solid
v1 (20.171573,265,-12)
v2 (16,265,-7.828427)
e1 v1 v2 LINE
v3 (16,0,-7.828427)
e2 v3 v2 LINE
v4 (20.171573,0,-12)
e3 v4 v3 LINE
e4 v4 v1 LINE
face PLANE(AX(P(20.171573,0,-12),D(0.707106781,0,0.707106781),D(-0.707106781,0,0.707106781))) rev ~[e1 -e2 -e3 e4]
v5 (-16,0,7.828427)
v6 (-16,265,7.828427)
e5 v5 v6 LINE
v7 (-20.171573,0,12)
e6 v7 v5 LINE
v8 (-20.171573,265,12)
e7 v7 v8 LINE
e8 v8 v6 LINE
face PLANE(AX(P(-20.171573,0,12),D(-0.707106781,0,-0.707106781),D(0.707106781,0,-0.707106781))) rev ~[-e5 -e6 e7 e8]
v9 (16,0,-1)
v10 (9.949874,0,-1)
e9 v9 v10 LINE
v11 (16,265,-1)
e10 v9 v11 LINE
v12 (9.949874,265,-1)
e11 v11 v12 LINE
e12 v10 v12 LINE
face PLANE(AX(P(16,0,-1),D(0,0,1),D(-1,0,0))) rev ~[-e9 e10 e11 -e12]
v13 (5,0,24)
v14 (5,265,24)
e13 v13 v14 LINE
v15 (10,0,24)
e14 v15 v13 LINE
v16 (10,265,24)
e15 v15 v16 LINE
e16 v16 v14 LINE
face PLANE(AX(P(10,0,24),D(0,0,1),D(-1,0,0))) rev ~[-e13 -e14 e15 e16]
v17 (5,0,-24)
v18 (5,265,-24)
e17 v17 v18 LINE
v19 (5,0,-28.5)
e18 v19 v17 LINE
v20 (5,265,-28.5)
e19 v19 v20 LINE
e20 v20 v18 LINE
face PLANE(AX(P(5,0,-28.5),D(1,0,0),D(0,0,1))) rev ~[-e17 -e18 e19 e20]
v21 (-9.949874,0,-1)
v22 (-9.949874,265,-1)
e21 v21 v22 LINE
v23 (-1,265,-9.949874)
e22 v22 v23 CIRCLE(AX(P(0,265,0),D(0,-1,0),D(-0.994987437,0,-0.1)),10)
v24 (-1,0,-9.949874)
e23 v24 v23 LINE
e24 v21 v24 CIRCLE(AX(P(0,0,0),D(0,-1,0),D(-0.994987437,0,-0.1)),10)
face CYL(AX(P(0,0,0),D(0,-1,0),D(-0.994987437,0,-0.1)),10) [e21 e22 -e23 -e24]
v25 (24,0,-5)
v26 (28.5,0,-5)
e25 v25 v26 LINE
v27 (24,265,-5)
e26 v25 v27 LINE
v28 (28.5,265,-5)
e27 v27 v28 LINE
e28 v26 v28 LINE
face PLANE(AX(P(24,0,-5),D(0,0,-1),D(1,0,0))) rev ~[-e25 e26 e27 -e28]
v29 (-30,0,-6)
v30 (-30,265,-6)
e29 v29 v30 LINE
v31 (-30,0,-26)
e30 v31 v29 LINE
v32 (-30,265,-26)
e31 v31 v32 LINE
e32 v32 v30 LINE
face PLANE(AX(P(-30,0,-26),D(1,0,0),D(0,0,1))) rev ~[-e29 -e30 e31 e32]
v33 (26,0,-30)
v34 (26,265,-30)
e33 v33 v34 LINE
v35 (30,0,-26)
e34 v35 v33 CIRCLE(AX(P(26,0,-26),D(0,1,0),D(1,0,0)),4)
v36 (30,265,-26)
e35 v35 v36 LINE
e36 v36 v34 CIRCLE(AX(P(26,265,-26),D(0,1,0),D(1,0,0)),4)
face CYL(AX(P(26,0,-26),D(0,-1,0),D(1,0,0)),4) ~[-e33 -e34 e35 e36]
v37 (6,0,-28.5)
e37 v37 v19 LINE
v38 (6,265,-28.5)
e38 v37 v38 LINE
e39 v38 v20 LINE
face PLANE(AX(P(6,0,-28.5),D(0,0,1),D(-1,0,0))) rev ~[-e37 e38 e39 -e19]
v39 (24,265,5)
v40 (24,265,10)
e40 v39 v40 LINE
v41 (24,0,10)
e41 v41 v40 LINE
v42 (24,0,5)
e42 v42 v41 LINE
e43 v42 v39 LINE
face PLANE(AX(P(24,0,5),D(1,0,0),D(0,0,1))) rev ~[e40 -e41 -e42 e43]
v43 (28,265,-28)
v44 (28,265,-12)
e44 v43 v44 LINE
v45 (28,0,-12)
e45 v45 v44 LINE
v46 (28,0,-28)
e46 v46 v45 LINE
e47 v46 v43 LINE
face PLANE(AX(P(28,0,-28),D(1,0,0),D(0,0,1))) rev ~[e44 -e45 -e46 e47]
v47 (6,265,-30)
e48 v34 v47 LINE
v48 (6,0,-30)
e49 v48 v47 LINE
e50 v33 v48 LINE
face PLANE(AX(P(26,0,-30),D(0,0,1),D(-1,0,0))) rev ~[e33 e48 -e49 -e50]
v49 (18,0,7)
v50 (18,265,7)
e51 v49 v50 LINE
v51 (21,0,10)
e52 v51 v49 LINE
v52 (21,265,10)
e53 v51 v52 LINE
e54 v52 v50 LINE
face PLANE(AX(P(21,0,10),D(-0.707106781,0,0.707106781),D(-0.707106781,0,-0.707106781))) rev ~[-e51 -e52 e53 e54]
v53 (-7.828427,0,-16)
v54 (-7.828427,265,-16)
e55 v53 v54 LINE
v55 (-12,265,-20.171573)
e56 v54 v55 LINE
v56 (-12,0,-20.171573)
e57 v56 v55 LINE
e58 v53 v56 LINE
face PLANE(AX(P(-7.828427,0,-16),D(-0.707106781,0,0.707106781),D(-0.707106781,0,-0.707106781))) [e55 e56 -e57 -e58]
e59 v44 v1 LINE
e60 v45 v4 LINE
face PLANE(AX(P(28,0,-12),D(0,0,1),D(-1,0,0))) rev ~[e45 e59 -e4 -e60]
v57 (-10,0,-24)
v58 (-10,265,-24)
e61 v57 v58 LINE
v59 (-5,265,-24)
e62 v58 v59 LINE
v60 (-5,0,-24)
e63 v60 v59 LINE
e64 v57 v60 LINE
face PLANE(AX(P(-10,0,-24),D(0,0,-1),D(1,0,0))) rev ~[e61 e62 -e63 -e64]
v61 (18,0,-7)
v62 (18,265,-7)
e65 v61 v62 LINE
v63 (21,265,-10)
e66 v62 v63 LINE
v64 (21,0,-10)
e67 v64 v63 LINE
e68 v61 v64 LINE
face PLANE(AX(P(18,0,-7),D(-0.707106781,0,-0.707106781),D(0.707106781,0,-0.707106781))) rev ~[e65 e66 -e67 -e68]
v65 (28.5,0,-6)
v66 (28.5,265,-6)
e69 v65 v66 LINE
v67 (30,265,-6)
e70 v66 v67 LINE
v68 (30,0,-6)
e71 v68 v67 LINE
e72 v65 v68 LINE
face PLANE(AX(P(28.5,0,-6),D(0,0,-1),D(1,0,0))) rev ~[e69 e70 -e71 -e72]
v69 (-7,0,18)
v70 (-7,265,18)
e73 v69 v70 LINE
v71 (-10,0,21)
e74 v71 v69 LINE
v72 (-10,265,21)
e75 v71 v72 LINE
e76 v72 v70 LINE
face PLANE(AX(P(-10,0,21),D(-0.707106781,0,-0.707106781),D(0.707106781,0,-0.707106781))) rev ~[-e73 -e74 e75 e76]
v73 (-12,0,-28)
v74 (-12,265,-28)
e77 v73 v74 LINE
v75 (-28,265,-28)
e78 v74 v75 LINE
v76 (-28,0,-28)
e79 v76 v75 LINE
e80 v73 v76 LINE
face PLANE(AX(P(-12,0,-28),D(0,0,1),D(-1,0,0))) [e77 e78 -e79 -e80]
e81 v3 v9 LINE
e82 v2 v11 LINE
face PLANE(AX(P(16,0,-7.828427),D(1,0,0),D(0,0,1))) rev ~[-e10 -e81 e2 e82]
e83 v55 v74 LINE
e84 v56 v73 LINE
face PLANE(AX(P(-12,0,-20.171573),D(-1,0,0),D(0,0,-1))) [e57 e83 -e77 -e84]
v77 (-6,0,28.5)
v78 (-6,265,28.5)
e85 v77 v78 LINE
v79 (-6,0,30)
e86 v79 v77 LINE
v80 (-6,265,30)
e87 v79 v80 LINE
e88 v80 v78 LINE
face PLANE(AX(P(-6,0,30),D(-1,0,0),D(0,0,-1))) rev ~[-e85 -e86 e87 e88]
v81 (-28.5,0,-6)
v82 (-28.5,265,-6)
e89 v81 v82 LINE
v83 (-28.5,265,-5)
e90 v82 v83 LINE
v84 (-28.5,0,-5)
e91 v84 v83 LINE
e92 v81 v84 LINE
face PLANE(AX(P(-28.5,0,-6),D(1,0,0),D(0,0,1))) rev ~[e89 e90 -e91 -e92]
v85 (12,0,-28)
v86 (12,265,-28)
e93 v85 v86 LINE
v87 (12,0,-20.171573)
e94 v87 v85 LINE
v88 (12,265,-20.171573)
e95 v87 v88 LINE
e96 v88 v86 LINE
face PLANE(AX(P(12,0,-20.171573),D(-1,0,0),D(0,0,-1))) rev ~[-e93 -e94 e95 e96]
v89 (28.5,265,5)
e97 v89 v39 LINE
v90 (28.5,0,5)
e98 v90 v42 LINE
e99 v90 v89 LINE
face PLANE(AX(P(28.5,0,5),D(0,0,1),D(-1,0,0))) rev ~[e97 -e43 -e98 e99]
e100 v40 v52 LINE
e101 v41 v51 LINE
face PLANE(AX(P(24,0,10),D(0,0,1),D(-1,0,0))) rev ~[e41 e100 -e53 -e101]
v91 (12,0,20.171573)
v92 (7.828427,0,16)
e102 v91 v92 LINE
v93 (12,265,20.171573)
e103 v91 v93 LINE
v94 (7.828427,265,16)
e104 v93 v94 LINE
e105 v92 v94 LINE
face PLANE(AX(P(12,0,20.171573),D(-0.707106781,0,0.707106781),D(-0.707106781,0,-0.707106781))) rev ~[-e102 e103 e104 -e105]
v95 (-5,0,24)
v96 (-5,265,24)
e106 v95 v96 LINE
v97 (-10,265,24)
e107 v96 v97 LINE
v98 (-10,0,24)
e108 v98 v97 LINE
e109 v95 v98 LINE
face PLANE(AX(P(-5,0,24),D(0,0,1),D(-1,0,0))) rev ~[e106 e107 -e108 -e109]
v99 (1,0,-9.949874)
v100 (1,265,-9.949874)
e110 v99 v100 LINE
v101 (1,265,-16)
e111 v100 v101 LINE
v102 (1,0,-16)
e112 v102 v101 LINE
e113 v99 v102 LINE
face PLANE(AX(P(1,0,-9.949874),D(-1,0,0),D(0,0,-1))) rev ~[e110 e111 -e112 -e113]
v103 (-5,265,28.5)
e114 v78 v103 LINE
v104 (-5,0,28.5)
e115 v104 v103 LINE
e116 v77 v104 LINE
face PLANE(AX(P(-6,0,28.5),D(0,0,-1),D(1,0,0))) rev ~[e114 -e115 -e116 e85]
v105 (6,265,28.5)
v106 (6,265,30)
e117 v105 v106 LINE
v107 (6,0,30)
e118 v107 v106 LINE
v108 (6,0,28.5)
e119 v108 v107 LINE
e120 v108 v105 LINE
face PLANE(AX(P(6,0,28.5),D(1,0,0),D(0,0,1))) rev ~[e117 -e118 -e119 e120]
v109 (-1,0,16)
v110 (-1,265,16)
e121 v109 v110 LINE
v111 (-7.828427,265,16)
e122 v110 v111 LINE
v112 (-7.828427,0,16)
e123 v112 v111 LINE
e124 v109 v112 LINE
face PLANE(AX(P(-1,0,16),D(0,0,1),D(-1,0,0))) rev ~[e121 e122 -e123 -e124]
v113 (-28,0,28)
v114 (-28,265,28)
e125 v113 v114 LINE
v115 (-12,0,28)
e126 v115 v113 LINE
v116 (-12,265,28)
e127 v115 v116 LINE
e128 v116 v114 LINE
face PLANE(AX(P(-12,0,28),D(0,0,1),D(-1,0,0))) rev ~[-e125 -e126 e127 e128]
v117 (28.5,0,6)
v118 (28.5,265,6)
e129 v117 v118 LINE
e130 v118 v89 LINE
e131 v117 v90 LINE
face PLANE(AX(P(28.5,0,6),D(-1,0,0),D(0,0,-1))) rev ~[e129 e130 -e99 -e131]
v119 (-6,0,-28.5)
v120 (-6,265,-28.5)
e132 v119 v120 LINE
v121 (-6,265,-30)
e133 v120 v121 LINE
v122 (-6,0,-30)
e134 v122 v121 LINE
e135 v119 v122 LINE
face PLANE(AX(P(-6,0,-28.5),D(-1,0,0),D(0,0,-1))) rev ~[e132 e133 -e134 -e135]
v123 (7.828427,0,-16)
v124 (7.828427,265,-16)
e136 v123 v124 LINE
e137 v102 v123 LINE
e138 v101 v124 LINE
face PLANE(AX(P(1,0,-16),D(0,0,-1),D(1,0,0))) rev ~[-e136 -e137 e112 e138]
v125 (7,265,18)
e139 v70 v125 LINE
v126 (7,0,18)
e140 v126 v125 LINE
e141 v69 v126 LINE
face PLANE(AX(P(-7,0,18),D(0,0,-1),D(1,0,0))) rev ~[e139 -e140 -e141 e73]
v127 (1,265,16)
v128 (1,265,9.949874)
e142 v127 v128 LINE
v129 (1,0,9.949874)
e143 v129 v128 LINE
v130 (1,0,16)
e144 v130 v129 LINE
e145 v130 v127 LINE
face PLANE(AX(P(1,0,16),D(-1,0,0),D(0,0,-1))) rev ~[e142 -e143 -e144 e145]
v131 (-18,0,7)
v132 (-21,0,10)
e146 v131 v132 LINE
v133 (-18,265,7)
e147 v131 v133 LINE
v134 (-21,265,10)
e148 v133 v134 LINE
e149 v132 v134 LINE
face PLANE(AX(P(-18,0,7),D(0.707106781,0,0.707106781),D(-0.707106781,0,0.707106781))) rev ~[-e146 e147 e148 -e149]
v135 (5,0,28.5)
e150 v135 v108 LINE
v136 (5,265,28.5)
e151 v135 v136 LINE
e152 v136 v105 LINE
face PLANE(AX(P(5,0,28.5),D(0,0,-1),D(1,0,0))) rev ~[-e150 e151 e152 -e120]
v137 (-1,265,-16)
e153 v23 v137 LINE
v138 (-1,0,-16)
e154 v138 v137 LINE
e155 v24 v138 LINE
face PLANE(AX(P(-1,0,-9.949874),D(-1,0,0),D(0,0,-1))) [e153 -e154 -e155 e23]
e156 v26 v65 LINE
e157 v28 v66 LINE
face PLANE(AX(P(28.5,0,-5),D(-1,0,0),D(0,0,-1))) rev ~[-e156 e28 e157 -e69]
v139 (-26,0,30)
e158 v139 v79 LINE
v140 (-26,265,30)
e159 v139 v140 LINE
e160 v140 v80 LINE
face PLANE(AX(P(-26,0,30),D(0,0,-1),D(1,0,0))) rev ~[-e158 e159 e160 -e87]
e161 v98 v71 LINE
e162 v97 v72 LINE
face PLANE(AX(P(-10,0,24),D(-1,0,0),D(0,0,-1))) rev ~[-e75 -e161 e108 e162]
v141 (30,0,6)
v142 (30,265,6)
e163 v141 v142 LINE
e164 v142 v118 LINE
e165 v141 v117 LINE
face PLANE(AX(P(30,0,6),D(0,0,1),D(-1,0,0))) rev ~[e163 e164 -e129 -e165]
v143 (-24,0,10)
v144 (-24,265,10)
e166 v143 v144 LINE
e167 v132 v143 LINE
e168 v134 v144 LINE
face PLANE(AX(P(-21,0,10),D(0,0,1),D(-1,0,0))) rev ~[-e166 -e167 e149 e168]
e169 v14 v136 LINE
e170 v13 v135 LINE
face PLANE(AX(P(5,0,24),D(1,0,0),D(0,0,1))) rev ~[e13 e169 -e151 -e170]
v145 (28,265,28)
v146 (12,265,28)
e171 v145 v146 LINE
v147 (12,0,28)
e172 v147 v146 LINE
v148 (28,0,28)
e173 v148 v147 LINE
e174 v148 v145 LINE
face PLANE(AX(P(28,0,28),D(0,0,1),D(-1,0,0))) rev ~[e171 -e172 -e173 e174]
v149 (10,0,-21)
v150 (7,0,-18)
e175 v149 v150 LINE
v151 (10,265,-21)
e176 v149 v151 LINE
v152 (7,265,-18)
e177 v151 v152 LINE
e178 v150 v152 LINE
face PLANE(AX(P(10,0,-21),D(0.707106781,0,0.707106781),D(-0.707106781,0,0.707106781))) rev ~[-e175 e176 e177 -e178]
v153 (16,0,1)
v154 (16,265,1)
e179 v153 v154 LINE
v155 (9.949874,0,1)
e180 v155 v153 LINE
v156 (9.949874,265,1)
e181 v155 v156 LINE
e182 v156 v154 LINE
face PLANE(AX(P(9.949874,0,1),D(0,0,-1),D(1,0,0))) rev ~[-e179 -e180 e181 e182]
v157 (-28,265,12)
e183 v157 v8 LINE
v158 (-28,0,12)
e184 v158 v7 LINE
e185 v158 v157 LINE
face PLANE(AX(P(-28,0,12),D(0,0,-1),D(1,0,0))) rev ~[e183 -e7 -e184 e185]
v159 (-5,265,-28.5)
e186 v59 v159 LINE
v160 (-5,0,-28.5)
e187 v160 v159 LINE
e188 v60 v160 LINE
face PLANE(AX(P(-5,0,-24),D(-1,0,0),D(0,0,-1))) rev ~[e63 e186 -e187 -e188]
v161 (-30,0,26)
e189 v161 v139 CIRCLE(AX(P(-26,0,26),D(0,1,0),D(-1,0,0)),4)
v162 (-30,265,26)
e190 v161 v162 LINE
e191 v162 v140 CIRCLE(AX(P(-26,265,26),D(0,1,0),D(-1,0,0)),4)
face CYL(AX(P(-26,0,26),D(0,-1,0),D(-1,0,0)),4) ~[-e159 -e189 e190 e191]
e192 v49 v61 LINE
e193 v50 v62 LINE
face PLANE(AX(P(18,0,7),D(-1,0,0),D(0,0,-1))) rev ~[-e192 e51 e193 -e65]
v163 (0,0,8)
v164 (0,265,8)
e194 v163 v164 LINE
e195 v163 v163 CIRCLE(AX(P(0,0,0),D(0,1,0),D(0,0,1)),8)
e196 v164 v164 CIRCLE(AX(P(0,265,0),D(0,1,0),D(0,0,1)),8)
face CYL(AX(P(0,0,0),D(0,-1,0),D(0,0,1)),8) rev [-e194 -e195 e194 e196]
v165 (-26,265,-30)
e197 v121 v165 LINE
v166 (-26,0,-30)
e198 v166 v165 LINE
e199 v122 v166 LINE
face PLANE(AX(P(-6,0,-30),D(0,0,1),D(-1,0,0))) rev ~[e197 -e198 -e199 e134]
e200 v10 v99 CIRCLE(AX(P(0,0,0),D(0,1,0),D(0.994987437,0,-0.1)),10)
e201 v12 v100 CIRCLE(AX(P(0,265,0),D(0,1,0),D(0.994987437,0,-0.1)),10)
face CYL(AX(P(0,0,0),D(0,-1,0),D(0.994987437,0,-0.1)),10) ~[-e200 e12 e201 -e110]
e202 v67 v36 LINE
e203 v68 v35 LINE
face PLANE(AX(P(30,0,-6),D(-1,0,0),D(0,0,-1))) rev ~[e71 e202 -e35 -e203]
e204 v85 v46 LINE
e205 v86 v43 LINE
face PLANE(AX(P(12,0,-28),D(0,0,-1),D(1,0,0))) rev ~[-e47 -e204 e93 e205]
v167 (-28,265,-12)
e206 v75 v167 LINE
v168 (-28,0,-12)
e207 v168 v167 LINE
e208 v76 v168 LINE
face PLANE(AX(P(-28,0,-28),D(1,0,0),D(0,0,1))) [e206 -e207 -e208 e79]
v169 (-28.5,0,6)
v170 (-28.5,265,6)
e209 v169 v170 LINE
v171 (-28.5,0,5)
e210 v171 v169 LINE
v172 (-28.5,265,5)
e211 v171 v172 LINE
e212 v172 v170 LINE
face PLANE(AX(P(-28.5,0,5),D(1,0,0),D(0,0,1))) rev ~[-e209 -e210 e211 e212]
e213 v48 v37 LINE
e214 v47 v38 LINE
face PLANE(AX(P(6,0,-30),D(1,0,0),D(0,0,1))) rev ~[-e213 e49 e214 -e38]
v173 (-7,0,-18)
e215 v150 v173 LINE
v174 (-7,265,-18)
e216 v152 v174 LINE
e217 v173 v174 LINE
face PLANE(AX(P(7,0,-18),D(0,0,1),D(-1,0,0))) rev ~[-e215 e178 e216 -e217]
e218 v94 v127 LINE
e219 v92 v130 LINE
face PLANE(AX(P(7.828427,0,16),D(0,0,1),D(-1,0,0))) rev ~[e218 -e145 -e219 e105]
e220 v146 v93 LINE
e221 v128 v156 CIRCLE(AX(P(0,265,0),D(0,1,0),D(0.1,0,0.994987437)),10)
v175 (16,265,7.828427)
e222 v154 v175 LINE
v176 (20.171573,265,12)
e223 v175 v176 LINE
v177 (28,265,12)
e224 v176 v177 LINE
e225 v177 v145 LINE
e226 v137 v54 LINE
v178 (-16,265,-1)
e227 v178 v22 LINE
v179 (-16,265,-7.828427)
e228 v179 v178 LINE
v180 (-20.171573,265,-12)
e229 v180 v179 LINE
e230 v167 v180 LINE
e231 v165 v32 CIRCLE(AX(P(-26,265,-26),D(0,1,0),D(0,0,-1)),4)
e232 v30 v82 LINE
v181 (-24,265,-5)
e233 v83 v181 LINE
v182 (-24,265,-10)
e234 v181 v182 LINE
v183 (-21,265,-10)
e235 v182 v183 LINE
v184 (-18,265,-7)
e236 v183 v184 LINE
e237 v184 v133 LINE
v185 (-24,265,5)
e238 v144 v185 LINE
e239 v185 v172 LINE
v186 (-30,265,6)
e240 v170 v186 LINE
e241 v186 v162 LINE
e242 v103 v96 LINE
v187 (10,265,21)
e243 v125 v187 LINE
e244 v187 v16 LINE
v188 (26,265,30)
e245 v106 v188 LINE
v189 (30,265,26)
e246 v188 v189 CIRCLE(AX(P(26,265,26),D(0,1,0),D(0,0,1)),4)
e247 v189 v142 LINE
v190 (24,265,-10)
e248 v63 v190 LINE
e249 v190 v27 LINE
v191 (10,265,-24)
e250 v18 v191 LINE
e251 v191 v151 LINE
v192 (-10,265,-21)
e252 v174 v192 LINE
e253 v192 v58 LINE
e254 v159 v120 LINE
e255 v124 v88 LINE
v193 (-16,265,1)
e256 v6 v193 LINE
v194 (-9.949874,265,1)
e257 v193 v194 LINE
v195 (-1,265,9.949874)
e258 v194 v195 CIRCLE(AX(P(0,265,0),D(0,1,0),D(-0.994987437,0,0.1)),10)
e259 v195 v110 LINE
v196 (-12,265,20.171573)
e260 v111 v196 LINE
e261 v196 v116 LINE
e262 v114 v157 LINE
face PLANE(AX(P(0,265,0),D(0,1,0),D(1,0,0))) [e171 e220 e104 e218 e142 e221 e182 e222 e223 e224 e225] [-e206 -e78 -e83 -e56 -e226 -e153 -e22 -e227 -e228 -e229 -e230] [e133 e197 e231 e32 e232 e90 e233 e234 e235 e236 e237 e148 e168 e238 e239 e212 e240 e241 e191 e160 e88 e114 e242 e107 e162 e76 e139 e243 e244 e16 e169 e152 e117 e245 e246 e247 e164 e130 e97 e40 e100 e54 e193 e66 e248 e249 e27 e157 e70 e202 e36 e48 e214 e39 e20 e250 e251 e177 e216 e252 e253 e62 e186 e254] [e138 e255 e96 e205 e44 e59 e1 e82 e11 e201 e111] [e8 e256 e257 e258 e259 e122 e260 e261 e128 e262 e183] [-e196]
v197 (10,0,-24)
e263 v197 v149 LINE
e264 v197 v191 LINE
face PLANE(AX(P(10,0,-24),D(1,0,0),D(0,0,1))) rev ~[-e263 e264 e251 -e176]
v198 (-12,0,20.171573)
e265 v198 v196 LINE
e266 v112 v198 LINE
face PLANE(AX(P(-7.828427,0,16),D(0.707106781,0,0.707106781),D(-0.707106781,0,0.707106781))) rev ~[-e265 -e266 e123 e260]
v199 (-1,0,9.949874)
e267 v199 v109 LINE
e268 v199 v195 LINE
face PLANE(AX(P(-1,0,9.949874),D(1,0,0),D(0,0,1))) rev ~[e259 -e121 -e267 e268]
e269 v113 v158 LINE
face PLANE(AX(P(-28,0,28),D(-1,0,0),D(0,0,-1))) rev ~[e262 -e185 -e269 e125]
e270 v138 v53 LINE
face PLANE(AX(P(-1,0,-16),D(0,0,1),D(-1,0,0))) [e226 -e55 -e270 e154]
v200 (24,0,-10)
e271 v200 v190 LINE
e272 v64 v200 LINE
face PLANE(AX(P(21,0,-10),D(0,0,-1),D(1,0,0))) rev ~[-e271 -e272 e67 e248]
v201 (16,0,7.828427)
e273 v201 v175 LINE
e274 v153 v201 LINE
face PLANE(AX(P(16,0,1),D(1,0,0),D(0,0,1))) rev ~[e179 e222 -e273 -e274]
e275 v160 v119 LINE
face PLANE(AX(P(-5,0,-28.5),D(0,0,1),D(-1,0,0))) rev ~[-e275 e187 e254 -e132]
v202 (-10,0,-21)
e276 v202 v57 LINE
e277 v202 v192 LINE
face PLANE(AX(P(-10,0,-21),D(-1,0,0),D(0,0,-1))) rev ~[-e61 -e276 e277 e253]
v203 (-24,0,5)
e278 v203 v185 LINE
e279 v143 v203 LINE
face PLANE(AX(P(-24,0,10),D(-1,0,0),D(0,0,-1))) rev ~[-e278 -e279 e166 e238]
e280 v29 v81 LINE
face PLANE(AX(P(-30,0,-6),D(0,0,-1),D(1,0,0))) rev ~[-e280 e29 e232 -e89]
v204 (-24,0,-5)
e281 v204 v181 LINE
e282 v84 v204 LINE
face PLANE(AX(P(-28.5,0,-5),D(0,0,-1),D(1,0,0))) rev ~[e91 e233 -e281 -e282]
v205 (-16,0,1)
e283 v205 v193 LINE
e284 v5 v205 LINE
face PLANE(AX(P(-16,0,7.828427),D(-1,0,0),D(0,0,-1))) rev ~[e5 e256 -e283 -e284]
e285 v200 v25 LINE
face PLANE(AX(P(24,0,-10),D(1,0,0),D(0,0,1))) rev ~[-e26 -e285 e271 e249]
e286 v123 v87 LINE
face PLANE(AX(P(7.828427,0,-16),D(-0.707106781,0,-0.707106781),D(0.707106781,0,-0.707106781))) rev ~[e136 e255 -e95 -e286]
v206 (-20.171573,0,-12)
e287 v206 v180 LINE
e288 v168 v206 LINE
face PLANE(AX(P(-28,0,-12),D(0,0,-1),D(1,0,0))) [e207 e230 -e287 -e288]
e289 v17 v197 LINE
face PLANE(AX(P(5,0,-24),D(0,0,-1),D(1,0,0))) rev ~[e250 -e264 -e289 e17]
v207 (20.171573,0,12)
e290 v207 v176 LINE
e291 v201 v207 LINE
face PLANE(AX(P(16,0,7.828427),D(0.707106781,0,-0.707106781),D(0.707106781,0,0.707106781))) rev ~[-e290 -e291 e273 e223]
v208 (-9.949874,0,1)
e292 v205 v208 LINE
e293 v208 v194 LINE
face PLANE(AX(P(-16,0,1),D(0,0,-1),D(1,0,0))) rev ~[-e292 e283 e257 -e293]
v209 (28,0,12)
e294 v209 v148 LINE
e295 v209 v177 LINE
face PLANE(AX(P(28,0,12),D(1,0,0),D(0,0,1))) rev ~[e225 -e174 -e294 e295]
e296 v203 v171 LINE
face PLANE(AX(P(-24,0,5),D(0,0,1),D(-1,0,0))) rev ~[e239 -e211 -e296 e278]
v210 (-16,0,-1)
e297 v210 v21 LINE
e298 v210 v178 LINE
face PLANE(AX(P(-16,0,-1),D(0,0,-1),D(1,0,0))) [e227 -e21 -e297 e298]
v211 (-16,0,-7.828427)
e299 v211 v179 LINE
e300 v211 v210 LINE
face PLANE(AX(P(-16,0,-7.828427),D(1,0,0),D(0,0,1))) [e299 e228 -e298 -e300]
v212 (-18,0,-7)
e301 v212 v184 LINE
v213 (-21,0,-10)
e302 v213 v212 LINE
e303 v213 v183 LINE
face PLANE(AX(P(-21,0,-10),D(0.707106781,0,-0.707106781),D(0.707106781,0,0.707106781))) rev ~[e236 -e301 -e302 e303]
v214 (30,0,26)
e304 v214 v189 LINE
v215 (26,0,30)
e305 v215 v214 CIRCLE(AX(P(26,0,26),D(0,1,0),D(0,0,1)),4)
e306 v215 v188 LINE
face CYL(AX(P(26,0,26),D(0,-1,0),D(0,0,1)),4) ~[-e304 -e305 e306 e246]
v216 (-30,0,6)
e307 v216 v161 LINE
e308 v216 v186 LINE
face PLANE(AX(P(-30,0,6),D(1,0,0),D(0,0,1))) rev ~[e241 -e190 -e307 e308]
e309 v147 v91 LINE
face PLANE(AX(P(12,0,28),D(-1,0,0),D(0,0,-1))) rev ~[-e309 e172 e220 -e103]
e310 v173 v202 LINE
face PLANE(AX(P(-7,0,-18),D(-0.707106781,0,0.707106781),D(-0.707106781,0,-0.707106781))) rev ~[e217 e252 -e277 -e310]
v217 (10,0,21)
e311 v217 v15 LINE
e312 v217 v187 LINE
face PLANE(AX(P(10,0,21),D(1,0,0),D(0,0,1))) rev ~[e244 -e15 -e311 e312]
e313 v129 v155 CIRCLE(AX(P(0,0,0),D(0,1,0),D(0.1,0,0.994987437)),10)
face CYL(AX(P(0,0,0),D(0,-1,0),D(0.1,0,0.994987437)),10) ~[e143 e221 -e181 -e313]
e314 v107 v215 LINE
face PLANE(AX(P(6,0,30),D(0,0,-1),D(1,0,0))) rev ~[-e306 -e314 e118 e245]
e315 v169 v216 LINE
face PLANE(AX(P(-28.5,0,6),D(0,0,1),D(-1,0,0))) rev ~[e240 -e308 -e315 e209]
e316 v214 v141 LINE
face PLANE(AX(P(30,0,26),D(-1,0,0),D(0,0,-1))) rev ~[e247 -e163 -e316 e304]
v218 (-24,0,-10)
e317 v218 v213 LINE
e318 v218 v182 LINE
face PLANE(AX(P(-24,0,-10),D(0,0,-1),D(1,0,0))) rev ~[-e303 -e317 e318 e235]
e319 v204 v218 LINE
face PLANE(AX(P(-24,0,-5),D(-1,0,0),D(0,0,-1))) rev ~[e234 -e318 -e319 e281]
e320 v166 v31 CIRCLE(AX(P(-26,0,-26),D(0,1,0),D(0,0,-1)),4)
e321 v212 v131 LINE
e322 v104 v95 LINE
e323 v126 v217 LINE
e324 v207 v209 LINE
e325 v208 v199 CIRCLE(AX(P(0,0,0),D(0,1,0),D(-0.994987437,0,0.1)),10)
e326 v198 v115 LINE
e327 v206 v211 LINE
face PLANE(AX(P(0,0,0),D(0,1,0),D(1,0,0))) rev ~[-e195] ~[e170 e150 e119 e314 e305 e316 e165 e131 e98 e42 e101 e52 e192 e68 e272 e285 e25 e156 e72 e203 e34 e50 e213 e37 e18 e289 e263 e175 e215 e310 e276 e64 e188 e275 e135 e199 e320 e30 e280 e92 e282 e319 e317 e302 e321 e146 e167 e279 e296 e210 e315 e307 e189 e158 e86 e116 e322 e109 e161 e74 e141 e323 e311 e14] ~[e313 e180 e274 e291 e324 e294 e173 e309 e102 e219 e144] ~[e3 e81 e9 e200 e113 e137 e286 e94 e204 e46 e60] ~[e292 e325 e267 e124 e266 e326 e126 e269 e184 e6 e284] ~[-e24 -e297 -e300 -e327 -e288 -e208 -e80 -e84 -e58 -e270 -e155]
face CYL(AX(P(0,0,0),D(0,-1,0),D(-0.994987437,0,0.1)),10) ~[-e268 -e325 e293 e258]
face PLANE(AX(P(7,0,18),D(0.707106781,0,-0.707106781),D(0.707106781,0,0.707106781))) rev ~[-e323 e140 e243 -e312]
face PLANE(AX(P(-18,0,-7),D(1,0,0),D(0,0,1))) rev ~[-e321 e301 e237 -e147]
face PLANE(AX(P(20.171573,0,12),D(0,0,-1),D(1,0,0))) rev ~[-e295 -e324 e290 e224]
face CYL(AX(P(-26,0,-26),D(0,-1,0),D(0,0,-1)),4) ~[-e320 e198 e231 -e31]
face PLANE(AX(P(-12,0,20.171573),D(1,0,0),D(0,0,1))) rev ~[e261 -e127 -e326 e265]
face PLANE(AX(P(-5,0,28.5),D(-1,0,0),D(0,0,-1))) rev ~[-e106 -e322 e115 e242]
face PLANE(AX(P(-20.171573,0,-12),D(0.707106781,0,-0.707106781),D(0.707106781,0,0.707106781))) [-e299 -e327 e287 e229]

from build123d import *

# Parameters (mm, degrees)
SKETCH_1_R      = 8
EXTRUDE_1_DEPTH = 265


with BuildPart() as part:
    # 草图1 → 凸台-拉伸1 (new body)
    with BuildSketch(Plane(origin=(0, 0, 0), x_dir=(1, 0, 0), z_dir=(0, 1, 0))):
        with BuildLine():
            Line((-30, 5.999999999), (-28.5, 5.999999999))
            Line((-28.5, 5.999999999), (-28.5, 4.999999999))
            Line((-28.5, 4.999999999), (-24, 4.999999999))
            Line((-24, 4.999999999), (-24, 9.999999999))
            Line((-24, 9.999999999), (-21, 9.999999999))
            Line((-21, 9.999999999), (-18, 6.999999999))
            Line((-18, 6.999999999), (-18, -7.000000001))
            Line((-18, -7.000000001), (-21, -10.000000001))
            Line((-21, -10.000000001), (-24, -10.000000001))
            Line((-24, -10.000000001), (-24, -5.000000001))
            Line((-24, -5.000000001), (-28.5, -5.000000001))
            Line((-28.5, -5.000000001), (-28.5, -6.000000001))
            Line((-28.5, -6.000000001), (-30, -6.000000001))
            Line((-30, -6.000000001), (-30, -26.000000001))
            ThreePointArc((-30, -26.000000001), (-28.828427125, -28.828427126), (-26, -30.000000001))
            Line((-26, -30.000000001), (-6, -30.000000001))
            Line((-6, -30.000000001), (-6, -28.500000001))
            Line((-6, -28.500000001), (-5, -28.500000001))
            Line((-5, -28.500000001), (-5, -24.000000001))
            Line((-5, -24.000000001), (-10, -24.000000001))
            Line((-10, -24.000000001), (-10, -21.000000001))
            Line((-10, -21.000000001), (-7, -18.000000001))
            Line((-7, -18.000000001), (7, -18.000000001))
            Line((7, -18.000000001), (10, -21.000000001))
            Line((10, -21.000000001), (10, -24.000000001))
            Line((10, -24.000000001), (5, -24.000000001))
            Line((5, -24.000000001), (5, -28.500000001))
            Line((5, -28.500000001), (6, -28.500000001))
            Line((6, -28.500000001), (6, -30.000000001))
            Line((6, -30.000000001), (26, -30.000000001))
            ThreePointArc((26, -30.000000001), (28.828427125, -28.828427126), (30, -26.000000001))
            Line((30, -26.000000001), (30, -6.000000001))
            Line((30, -6.000000001), (28.5, -6.000000001))
            Line((28.5, -6.000000001), (28.5, -5.000000001))
            Line((28.5, -5.000000001), (24, -5.000000001))
            Line((24, -5.000000001), (24, -10.000000001))
            Line((24, -10.000000001), (21, -10.000000001))
            Line((21, -10.000000001), (18, -7.000000001))
            Line((18, -7.000000001), (18, 6.999999999))
            Line((18, 6.999999999), (21, 9.999999999))
            Line((21, 9.999999999), (24, 9.999999999))
            Line((24, 9.999999999), (24, 4.999999999))
            Line((24, 4.999999999), (28.5, 4.999999999))
            Line((28.5, 4.999999999), (28.5, 5.999999999))
            Line((28.5, 5.999999999), (30, 5.999999999))
            Line((30, 5.999999999), (30, 25.999999999))
            ThreePointArc((30, 25.999999999), (28.828427125, 28.828427124), (26, 29.999999999))
            Line((26, 29.999999999), (6, 29.999999999))
            Line((6, 29.999999999), (6, 28.499999999))
            Line((6, 28.499999999), (5, 28.499999999))
            Line((5, 28.499999999), (5, 23.999999999))
            Line((5, 23.999999999), (10, 23.999999999))
            Line((10, 23.999999999), (10, 20.999999999))
            Line((10, 20.999999999), (7, 17.999999999))
            Line((7, 17.999999999), (-7, 17.999999999))
            Line((-7, 17.999999999), (-10, 20.999999999))
            Line((-10, 20.999999999), (-10, 23.999999999))
            Line((-10, 23.999999999), (-5, 23.999999999))
            Line((-5, 23.999999999), (-5, 28.499999999))
            Line((-5, 28.499999999), (-6, 28.499999999))
            Line((-6, 28.499999999), (-6, 29.999999999))
            Line((-6, 29.999999999), (-26.000000001, 29.999999999))
            ThreePointArc((-26.000000001, 29.999999999), (-28.828427125, 28.828427123), (-30, 25.999999999))
            Line((-30, 25.999999999), (-30, 5.999999999))
        make_face()
        with Locations(Location((0, 0, 0), (0, 0, 270))):
            Circle(SKETCH_1_R, mode=Mode.SUBTRACT)
        with BuildLine():
            Line((-16, 1), (-9.949874371, 1))
            ThreePointArc((-9.949874371, 1), (-7.071067812, 7.071067811), (-1.000000001, 9.949874371))
            Line((-1.000000001, 9.949874371), (-1.000000001, 16))
            Line((-1.000000001, 16), (-7.828427125, 16))
            Line((-7.828427125, 16), (-12, 20.171572875))
            Line((-12, 20.171572875), (-12, 28))
            Line((-12, 28), (-28, 28))
            Line((-28, 28), (-28, 12))
            Line((-28, 12), (-20.171572875, 12))
            Line((-20.171572875, 12), (-16, 7.828427125))
            Line((-16, 7.828427125), (-16, 1))
        make_face(mode=Mode.SUBTRACT)
        with BuildLine():
            Line((1, 9.949874371), (1, 16))
            Line((1, 16), (7.828427125, 16))
            Line((7.828427125, 16), (12, 20.171572875))
            Line((12, 20.171572875), (12, 28))
            Line((12, 28), (28, 28))
            Line((28, 28), (28, 12.000000001))
            Line((28, 12.000000001), (20.171572875, 12.000000001))
            Line((20.171572875, 12.000000001), (16, 7.828427126))
            Line((16, 7.828427126), (16, 1.000000001))
            Line((16, 1.000000001), (9.949874371, 1.000000001))
            ThreePointArc((9.949874371, 1.000000001), (7.071067811, 7.071067812), (1, 9.949874371))
        make_face(mode=Mode.SUBTRACT)
        with BuildLine():
            Line((9.949874371, -1), (16, -1))
            Line((16, -1), (16, -7.828427125))
            Line((16, -7.828427125), (20.171572875, -12))
            Line((20.171572875, -12), (28.000000001, -12))
            Line((28.000000001, -12), (28.000000001, -28))
            Line((28.000000001, -28), (12.000000001, -28))
            Line((12.000000001, -28), (12.000000001, -20.171572875))
            Line((12.000000001, -20.171572875), (7.828427126, -16))
            Line((7.828427126, -16), (1.000000001, -16))
            Line((1.000000001, -16), (1.000000001, -9.949874371))
            ThreePointArc((1.000000001, -9.949874371), (7.071067812, -7.071067811), (9.949874371, -1))
        make_face(mode=Mode.SUBTRACT)
        with BuildLine():
            Line((-1, -9.949874371), (-1, -16.000000001))
            Line((-1, -16.000000001), (-7.828427125, -16.000000001))
            Line((-7.828427125, -16.000000001), (-12, -20.171572876))
            Line((-12, -20.171572876), (-12, -28.000000001))
            Line((-12, -28.000000001), (-28, -28.000000001))
            Line((-28, -28.000000001), (-28, -12.000000001))
            Line((-28, -12.000000001), (-20.171572875, -12.000000001))
            Line((-20.171572875, -12.000000001), (-16, -7.828427126))
            Line((-16, -7.828427126), (-16, -1.000000001))
            Line((-16, -1.000000001), (-9.949874371, -1.000000001))
            ThreePointArc((-9.949874371, -1.000000001), (-7.071067811, -7.071067812), (-1, -9.949874371))
        make_face(mode=Mode.SUBTRACT)
    extrude(amount=EXTRUDE_1_DEPTH)


solid = part.part
